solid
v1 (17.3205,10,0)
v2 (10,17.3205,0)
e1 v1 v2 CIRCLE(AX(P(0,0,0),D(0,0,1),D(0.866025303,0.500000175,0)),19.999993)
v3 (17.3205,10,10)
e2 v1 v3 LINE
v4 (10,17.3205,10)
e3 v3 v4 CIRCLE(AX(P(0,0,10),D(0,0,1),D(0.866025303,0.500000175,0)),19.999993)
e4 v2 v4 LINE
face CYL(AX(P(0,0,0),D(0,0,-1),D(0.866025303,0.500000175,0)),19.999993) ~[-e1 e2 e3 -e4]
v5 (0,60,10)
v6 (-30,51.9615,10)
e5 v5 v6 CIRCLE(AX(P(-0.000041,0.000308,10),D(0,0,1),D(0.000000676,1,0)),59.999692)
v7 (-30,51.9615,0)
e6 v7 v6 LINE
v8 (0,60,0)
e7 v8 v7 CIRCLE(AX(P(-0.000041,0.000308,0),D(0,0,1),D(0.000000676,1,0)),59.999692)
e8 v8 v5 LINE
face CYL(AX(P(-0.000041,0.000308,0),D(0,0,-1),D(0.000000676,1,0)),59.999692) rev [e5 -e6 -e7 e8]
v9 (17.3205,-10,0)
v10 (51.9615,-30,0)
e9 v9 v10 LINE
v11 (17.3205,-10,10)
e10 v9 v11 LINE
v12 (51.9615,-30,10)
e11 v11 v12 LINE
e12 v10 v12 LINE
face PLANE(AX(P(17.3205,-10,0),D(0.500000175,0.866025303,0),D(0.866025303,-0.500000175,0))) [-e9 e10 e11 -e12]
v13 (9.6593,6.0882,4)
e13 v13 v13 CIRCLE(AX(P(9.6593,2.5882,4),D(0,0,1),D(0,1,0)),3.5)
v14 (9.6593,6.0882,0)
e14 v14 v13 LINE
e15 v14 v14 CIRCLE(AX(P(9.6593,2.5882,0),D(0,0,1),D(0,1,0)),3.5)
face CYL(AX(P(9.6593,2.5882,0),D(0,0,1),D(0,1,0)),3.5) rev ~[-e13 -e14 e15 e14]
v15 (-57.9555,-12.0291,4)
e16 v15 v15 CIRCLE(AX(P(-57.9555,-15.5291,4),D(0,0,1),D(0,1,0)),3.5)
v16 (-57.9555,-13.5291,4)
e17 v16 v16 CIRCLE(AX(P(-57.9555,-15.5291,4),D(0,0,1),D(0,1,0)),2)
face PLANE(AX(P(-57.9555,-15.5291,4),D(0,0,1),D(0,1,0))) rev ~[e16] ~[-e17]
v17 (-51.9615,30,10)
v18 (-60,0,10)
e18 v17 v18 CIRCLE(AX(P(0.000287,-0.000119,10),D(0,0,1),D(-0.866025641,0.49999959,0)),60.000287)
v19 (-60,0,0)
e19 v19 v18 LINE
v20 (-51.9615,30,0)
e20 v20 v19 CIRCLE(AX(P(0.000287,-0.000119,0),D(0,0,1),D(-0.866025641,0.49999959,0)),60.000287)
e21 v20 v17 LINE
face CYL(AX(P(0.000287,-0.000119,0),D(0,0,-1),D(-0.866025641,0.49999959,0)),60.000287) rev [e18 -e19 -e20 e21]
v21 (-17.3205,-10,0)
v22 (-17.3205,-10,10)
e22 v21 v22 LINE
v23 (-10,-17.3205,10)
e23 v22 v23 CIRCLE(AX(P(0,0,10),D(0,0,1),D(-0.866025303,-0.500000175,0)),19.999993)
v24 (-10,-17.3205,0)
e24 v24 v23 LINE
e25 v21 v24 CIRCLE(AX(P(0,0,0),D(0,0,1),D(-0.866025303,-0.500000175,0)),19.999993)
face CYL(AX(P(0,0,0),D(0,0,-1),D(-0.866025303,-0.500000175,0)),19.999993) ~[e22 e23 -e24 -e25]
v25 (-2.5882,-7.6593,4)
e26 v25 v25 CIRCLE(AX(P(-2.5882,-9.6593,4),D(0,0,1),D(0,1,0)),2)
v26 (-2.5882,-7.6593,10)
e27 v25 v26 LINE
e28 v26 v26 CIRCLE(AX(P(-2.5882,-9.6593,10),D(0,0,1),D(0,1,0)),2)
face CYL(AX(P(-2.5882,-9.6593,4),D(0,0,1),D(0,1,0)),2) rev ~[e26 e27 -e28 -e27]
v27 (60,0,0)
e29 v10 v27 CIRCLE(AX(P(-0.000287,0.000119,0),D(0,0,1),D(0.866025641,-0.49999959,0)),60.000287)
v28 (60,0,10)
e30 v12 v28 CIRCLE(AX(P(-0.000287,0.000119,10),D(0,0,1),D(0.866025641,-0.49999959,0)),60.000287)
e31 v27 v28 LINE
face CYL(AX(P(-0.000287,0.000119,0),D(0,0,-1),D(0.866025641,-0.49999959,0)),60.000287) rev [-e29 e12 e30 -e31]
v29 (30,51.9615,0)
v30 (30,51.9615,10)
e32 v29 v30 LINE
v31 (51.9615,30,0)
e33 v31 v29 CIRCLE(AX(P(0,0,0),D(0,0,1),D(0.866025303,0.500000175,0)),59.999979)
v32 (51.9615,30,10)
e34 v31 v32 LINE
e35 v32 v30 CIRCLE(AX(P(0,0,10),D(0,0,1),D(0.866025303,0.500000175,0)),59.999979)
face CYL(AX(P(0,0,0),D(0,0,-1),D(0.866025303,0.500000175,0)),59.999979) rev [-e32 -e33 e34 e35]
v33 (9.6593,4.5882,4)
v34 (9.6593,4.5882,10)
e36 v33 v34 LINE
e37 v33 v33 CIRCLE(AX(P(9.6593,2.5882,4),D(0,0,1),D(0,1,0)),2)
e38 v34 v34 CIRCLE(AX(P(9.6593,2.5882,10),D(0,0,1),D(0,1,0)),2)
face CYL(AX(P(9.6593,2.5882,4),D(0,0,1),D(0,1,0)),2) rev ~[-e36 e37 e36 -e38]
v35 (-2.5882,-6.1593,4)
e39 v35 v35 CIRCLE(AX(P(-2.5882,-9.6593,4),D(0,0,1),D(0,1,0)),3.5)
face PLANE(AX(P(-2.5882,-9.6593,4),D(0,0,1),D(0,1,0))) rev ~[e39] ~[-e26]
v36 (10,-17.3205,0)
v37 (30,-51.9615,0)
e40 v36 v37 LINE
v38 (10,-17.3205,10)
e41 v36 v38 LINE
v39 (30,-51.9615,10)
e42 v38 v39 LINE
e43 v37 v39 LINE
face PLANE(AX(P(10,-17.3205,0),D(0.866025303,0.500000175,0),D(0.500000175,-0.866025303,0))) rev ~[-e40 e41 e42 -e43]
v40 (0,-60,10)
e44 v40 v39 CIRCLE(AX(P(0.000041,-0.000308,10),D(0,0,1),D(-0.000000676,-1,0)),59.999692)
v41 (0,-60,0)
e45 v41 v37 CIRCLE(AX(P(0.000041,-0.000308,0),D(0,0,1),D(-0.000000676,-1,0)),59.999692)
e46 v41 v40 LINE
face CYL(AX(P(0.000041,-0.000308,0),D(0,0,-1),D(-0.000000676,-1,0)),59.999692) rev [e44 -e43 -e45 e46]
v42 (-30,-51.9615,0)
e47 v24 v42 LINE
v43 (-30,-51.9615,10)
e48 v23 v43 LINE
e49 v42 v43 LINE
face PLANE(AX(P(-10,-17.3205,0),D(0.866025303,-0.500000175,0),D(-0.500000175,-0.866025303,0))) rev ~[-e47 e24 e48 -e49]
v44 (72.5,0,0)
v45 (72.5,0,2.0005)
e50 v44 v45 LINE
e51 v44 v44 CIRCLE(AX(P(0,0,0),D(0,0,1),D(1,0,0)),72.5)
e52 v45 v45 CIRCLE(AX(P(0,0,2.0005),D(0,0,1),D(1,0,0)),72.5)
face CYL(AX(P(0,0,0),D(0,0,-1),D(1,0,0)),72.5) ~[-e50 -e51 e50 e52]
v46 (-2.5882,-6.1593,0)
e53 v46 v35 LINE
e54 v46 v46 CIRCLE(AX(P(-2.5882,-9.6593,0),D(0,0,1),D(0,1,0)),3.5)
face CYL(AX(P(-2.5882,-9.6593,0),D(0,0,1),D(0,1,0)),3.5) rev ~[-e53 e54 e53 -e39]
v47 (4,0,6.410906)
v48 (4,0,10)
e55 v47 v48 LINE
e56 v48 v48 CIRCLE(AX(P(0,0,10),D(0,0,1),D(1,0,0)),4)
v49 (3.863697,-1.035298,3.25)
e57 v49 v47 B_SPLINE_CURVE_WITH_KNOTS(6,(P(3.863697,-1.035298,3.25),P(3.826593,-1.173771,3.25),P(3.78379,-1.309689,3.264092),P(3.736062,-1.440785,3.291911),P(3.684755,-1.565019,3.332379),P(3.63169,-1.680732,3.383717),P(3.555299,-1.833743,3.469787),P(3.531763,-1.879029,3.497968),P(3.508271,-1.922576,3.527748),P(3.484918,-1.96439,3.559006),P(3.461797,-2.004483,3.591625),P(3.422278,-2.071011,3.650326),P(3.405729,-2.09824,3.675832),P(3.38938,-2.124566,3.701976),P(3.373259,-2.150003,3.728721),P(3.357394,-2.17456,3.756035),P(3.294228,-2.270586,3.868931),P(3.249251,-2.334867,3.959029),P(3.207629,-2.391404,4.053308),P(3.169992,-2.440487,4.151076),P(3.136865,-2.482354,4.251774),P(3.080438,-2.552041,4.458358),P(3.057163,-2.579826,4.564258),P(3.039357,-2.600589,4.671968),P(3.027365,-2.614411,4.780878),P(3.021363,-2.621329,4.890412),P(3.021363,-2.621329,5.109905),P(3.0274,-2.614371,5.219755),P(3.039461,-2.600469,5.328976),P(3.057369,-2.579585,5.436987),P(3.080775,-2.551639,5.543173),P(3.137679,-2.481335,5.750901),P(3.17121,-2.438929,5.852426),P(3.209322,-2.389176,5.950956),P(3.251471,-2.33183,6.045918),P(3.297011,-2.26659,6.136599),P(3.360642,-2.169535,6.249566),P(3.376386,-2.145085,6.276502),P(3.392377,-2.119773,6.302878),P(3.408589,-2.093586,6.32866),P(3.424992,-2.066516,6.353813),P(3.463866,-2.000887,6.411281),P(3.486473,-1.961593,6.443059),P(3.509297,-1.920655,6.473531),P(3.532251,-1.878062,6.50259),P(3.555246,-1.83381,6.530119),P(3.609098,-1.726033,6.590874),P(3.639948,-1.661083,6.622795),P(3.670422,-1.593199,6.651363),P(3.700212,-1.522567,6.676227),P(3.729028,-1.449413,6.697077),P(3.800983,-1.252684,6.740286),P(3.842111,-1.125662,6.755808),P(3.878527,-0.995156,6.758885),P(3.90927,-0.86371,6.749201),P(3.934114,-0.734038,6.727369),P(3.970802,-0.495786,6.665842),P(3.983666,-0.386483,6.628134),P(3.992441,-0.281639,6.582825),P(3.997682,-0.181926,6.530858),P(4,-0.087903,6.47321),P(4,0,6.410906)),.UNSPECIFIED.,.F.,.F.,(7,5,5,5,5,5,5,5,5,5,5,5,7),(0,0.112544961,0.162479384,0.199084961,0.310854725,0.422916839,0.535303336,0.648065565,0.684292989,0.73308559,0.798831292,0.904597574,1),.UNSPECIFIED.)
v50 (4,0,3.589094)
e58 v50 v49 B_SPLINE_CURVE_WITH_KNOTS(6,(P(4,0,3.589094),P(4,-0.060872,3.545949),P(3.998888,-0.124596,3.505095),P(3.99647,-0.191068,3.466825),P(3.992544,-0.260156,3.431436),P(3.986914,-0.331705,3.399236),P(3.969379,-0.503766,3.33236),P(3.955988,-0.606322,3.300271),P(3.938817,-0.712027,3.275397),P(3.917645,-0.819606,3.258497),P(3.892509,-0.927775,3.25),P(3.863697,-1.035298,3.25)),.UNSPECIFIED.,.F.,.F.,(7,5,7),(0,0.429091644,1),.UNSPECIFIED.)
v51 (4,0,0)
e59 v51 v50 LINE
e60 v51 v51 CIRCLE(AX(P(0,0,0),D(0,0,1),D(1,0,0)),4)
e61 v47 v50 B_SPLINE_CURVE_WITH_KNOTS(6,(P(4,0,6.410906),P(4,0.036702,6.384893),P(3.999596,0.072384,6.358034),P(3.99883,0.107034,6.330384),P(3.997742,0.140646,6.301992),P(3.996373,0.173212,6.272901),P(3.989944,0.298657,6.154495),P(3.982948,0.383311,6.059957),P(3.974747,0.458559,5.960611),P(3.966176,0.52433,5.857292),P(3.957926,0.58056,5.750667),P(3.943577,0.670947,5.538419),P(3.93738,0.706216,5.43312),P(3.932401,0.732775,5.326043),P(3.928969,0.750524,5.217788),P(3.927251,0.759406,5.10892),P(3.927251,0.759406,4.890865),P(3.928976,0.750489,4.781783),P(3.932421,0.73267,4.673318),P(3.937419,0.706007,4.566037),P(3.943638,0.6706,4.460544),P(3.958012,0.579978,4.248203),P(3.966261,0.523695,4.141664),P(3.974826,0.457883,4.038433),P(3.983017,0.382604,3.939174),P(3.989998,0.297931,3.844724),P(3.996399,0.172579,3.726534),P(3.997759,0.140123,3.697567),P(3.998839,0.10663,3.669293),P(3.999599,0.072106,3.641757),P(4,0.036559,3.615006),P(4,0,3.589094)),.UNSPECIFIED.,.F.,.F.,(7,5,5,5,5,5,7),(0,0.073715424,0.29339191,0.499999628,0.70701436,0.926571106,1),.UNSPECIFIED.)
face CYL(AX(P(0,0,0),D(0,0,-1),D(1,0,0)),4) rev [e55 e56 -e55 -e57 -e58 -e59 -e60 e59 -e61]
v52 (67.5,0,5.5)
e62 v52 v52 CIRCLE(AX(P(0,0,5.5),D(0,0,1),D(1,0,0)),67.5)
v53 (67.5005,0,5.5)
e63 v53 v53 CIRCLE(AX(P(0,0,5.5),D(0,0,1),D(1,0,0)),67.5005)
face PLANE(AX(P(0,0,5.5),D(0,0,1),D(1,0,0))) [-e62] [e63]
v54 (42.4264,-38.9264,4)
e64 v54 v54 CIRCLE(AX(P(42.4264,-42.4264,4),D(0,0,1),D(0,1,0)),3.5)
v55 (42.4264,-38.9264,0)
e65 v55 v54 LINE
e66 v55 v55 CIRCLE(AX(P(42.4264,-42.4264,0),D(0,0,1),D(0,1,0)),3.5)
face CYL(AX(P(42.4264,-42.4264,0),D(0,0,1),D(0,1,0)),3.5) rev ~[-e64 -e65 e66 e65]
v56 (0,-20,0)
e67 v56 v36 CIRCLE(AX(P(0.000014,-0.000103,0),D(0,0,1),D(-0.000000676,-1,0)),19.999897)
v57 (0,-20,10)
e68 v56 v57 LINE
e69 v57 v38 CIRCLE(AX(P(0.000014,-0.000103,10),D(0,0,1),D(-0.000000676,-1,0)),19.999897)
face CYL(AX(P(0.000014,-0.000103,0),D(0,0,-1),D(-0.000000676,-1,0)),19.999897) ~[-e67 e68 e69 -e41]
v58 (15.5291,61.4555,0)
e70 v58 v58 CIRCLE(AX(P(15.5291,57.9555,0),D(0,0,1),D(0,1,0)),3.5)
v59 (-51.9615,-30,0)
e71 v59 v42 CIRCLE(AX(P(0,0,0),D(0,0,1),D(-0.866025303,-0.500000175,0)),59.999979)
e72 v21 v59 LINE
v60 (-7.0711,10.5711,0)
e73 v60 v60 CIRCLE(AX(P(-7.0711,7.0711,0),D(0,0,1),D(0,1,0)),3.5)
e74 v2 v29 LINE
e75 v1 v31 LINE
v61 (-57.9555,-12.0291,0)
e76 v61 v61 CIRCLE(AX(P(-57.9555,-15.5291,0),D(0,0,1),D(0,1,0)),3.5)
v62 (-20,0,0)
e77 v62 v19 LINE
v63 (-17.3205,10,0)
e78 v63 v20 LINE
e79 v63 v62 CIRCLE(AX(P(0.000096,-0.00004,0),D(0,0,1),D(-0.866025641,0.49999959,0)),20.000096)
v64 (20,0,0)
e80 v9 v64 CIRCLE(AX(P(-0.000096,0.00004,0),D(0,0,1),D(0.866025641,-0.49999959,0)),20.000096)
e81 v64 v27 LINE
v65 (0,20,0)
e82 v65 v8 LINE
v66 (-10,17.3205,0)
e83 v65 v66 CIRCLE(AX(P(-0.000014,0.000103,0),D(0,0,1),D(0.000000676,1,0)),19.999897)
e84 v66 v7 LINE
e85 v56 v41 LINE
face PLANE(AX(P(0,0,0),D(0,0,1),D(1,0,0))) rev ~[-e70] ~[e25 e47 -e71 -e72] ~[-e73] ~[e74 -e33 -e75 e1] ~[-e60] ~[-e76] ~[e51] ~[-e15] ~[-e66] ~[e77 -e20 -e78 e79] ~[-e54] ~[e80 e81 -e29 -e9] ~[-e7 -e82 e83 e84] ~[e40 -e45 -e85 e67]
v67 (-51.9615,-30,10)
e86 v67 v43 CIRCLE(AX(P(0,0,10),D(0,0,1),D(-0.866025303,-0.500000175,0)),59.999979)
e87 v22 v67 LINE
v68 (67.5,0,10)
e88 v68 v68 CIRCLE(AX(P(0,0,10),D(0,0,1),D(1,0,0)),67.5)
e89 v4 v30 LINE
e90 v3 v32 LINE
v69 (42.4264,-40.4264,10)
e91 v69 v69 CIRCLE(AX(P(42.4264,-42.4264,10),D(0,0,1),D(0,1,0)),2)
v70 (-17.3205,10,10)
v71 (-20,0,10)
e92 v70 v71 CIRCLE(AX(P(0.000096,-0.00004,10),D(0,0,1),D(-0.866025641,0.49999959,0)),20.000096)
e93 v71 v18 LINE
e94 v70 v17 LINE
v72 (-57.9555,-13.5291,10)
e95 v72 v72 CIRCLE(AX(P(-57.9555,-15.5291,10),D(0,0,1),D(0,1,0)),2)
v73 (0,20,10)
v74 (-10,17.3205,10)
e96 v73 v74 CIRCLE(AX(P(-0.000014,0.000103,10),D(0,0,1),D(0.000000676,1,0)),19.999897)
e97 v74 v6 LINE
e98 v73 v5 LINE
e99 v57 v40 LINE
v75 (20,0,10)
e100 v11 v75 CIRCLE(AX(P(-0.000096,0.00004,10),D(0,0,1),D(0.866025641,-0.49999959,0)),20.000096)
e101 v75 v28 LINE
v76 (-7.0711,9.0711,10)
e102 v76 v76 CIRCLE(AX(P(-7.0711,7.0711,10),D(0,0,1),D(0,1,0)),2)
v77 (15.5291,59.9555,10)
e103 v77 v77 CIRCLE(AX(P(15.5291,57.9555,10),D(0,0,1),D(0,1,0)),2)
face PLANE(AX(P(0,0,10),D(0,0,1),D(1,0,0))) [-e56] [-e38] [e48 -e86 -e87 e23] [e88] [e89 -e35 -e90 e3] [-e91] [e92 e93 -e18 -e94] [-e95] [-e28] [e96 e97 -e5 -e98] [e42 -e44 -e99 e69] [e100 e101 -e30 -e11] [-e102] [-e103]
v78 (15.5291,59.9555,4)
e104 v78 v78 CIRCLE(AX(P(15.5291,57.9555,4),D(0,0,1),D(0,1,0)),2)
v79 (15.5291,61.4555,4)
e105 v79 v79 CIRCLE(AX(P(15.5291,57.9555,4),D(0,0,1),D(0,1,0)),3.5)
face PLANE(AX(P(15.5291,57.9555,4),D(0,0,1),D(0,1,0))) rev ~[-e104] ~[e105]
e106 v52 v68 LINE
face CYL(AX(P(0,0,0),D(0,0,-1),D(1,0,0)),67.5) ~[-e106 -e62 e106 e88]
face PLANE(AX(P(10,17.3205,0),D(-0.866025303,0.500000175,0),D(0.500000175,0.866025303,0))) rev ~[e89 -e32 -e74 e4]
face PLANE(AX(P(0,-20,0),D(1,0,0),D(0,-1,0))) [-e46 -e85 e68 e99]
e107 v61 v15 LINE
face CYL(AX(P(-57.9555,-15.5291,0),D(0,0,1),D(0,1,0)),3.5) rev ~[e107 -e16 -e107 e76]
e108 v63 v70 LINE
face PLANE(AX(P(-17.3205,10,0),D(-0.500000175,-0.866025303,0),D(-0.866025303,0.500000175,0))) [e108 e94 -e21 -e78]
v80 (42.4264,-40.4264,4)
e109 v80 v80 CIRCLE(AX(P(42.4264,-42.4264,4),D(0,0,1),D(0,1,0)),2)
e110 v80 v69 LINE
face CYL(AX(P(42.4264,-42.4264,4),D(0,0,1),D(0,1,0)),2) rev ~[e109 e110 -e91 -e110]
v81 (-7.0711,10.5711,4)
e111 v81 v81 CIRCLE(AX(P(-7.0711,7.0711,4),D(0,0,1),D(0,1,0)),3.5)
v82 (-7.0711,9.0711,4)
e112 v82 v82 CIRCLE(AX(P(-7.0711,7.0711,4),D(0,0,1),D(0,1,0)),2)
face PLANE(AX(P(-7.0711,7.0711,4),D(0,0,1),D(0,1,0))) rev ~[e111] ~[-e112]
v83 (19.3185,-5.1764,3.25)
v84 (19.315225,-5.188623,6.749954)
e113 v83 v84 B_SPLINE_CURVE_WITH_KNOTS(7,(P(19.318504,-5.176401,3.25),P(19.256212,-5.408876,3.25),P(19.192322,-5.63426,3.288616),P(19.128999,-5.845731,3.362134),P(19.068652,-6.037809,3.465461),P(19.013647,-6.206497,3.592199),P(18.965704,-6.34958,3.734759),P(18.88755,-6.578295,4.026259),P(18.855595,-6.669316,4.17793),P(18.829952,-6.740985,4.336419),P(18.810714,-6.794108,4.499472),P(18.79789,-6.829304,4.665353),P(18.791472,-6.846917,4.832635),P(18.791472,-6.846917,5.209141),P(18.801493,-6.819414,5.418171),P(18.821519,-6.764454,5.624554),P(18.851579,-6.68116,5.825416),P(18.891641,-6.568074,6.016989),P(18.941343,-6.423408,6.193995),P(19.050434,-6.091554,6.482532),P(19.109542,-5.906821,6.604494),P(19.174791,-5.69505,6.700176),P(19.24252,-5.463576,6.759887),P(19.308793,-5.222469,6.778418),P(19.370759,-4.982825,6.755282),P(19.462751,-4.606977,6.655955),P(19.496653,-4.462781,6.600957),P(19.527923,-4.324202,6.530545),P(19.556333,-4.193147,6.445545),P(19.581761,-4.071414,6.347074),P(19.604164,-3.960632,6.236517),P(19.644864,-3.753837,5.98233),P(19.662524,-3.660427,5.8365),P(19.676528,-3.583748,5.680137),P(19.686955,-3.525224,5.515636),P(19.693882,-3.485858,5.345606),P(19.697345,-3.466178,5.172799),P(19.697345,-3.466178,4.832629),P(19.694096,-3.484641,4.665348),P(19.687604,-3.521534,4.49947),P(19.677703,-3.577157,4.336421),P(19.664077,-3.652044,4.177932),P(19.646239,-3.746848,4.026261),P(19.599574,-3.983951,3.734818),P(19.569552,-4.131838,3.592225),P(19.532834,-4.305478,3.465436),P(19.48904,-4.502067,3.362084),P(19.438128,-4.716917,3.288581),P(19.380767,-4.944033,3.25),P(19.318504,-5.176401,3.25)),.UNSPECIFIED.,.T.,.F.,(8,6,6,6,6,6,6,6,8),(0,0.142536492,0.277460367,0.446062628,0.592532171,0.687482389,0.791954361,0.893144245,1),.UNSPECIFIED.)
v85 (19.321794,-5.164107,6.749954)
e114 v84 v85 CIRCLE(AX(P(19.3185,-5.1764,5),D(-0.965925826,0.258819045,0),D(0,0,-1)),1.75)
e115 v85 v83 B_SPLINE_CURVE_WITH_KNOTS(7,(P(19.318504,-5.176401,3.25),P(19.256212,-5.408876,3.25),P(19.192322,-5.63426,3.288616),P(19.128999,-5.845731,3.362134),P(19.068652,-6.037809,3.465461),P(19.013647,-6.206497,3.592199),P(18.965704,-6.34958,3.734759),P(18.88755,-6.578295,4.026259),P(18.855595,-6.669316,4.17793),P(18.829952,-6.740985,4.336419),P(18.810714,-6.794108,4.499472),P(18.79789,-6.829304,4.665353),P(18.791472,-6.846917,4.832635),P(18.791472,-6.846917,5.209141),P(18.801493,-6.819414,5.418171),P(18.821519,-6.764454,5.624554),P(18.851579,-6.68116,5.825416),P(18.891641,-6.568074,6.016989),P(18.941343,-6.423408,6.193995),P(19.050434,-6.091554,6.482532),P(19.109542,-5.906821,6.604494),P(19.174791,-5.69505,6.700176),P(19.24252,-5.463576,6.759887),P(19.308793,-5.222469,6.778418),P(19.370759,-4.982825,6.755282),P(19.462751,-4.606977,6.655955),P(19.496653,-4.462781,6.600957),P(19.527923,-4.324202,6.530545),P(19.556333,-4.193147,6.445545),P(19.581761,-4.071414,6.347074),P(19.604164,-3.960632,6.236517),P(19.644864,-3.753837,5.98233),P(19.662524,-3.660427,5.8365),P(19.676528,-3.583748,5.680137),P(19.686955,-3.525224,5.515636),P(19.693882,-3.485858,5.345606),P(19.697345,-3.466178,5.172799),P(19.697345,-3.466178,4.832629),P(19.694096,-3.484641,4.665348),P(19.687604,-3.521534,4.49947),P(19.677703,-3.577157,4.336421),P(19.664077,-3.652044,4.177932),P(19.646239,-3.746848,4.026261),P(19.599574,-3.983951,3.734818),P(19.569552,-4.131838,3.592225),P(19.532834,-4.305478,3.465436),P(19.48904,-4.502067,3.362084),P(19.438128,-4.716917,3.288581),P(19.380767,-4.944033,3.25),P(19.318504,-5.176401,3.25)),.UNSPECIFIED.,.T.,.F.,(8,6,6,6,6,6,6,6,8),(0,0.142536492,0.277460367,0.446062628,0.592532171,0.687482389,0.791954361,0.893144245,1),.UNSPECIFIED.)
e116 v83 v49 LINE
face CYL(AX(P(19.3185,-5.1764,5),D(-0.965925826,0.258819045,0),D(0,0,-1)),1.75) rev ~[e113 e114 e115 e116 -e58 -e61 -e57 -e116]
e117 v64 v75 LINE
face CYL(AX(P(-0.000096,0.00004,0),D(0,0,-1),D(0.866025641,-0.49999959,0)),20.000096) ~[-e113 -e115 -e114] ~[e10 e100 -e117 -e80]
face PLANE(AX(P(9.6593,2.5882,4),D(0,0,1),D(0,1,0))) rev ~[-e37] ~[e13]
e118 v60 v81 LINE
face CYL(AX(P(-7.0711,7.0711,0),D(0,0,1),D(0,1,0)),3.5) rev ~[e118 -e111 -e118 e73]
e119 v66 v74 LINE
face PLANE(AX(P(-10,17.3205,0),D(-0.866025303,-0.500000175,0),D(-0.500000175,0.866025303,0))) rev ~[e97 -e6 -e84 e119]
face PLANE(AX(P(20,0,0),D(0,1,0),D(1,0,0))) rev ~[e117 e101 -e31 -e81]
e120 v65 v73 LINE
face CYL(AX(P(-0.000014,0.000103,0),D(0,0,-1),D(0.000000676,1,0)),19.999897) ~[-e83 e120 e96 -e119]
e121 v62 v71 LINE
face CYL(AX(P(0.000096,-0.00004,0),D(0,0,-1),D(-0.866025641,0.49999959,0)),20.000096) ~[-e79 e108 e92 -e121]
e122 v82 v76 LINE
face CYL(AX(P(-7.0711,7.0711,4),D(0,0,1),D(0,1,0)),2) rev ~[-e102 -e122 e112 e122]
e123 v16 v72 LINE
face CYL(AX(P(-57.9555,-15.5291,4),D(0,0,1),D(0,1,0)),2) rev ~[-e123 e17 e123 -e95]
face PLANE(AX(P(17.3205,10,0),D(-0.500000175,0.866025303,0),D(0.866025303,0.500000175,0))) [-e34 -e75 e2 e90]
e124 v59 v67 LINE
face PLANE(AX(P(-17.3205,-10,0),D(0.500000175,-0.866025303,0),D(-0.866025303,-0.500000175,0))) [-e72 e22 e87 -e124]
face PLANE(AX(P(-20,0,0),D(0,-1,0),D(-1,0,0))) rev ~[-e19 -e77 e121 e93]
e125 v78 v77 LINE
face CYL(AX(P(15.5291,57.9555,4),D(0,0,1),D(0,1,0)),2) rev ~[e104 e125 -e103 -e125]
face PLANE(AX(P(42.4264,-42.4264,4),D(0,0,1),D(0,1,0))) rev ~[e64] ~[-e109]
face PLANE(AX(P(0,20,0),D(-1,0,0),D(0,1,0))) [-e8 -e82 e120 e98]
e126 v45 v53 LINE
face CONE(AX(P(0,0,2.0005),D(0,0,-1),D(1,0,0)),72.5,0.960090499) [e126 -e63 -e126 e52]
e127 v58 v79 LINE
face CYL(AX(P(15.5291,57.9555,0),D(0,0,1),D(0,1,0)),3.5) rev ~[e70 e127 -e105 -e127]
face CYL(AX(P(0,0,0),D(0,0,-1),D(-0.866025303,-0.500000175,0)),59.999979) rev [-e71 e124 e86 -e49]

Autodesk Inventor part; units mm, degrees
ref_plane "YZ Plane" through (0, 0, 0) normal (1, 0, 0) x (0, 1, 0)
ref_plane "XZ Plane" through (0, 0, 0) normal (0, 1, 0) x (-1, 0, 0)
sketch "Sketch1" plane through (0, 0, 0) normal (0, 0, 1) x (1, 0, 0)
  circle A0 centre (0, 0) radius 72.5
  circle A1 centre (0, 0) radius 67.5
  circle A2 centre (0, 0) radius 4
  line L0 (0, 20) -> (0, 60)
  arc A3 (0, 20) -> (-10, 17.3205) centre (0, 0) ccw
  line L1 (0, 0) -> (-10, 17.3205) construction
  line L2 (0, 0) -> (0, 20) construction
  arc A4 (0, 60) -> (-30, 51.9615) centre (0, 0) ccw
  line L3 (0, 0) -> (-30, 51.9615) construction
  line L4 (0, 0) -> (0, 60) construction
  line L5 (-10, 17.3205) -> (-30, 51.9615)
  line L6 (-17.3205, 10) -> (-51.9615, 30)
  arc A5 (-17.3205, 10) -> (-20, 0) centre (0, 0) ccw
  line L7 (0, 0) -> (-20, 0) construction
  line L8 (0, 0) -> (-17.3205, 10) construction
  arc A6 (-51.9615, 30) -> (-60, 0) centre (0, 0) ccw
  line L9 (0, 0) -> (-60, 0) construction
  line L10 (0, 0) -> (-51.9615, 30) construction
  line L11 (-20, 0) -> (-60, 0)
  line L12 (-17.3205, -10) -> (-51.9615, -30)
  arc A7 (-17.3205, -10) -> (-10, -17.3205) centre (0, 0) ccw
  line L13 (0, 0) -> (-10, -17.3205) construction
  line L14 (0, 0) -> (-17.3205, -10) construction
  arc A8 (-51.9615, -30) -> (-30, -51.9615) centre (0, 0) ccw
  line L15 (0, 0) -> (-30, -51.9615) construction
  line L16 (0, 0) -> (-51.9615, -30) construction
  line L17 (-10, -17.3205) -> (-30, -51.9615)
  line L18 (0, -20) -> (0, -60)
  arc A9 (0, -20) -> (10, -17.3205) centre (0, 0) ccw
  line L19 (0, 0) -> (10, -17.3205) construction
  line L20 (0, 0) -> (0, -20) construction
  arc A10 (0, -60) -> (30, -51.9615) centre (0, 0) ccw
  line L21 (0, 0) -> (30, -51.9615) construction
  line L22 (0, 0) -> (0, -60) construction
  line L23 (10, -17.3205) -> (30, -51.9615)
  line L24 (17.3205, -10) -> (51.9615, -30)
  arc A11 (17.3205, -10) -> (20, 0) centre (0, 0) ccw
  line L25 (0, 0) -> (20, 0) construction
  line L26 (0, 0) -> (17.3205, -10) construction
  arc A12 (51.9615, -30) -> (60, 0) centre (0, 0) ccw
  line L27 (0, 0) -> (60, 0) construction
  line L28 (0, 0) -> (51.9615, -30) construction
  line L29 (20, 0) -> (60, 0)
  line L30 (17.3205, 10) -> (51.9615, 30)
  arc A13 (17.3205, 10) -> (10, 17.3205) centre (0, 0) ccw
  line L31 (0, 0) -> (10, 17.3205) construction
  line L32 (0, 0) -> (17.3205, 10) construction
  arc A14 (51.9615, 30) -> (30, 51.9615) centre (0, 0) ccw
  line L33 (0, 0) -> (30, 51.9615) construction
  line L34 (0, 0) -> (51.9615, 30) construction
  line L35 (10, 17.3205) -> (30, 51.9615)
  point P0 (0, 10)
  point P1 (-2.5882, 9.6593)
  point P2 (-5, 8.6603)
  point P3 (-7.0711, 7.0711)
  point P4 (-8.6603, 5)
  point P5 (-9.6593, 2.5882)
  point P6 (-10, 0)
  point P7 (-9.6593, -2.5882)
  point P8 (-8.6603, -5)
  point P9 (-7.0711, -7.0711)
  point P10 (-5, -8.6603)
  point P11 (-2.5882, -9.6593)
  point P12 (0, -10)
  point P13 (2.5882, -9.6593)
  point P14 (5, -8.6603)
  point P15 (7.0711, -7.0711)
  point P16 (8.6603, -5)
  point P17 (9.6593, -2.5882)
  point P18 (10, 0)
  point P19 (9.6593, 2.5882)
  point P20 (8.6603, 5)
  point P21 (7.0711, 7.0711)
  point P22 (5, 8.6603)
  point P23 (2.5882, 9.6593)
  point P24 (15.5291, -57.9555)
  point P25 (30, -51.9615)
  point P26 (42.4264, -42.4264)
  point P27 (51.9615, -30)
  point P28 (57.9555, -15.5291)
  point P29 (60, 0)
  point P30 (57.9555, 15.5291)
  point P31 (51.9615, 30)
  point P32 (42.4264, 42.4264)
  point P33 (30, 51.9615)
  point P34 (15.5291, 57.9555)
  point P35 (0, 60)
  point P36 (-15.5291, 57.9555)
  point P37 (-30, 51.9615)
  point P38 (-42.4264, 42.4264)
  point P39 (-51.9615, 30)
  point P40 (-57.9555, 15.5291)
  point P41 (-60, 0)
  point P42 (-57.9555, -15.5291)
  point P43 (-51.9615, -30)
  point P44 (-42.4264, -42.4264)
  point P45 (-30, -51.9615)
  point P46 (-15.5291, -57.9555)
  dimension "d1" = 135
  dimension "d2" = 8
  dimension "d11" = 40
  dimension "d12" = 20
  dimension "d13" = 30
  dimension "d14" = 30
  dimension "d17" = 360
  dimension "d34" = 10
  dimension "d37" = 360
  dimension "d48" = 360
  dimension "d57" = 145
extrude "Extrusion1" add sketch "Sketch1" along normal blind 10 contours A1
extrude "Extrusion2" add sketch "Sketch1" along normal blind 5.5 contours A0
hole "Hole2" at (-2.5882, -9.6593, 0) at (-7.0711, 7.0711, 0) at (9.6593, 2.5882, 0) direction (0, 0, 1) diameter 4 end through all counterbore diameter 7 counterbore depth 4
hole "Hole3" at (42.4264, -42.4264, 0) at (-57.9555, -15.5291, 0) at (15.5291, 57.9555, 0) direction (0, 0, 1) diameter 4 end through all counterbore diameter 7 counterbore depth 4
chamfer "Chamfer2" distance 3.5 distance2 5 1 edges at (-72.5, 0, 5.5) measured on face at (72.06, -7.9756, 1.8333)
ref_plane "Work Plane3" through (19.3185, -5.1764, 0) normal (-0.9659, 0.2588, 0) x (-0.2588, -0.9659, 0)
sketch "Sketch3" plane through (19.3185, -5.1764, 0) normal (-0.9659, 0.2588, 0) x (-0.2588, -0.9659, 0)
  point P0 (0, 0)
  point P1 (0, 5)
  dimension "d61" = 5
hole "Hole4" at (19.3185, -5.1764, 5) direction (-0.9659, 0.2588, 0) diameter 3.5 depth 20
properties part number "wheel" material "UHMW, Black"
